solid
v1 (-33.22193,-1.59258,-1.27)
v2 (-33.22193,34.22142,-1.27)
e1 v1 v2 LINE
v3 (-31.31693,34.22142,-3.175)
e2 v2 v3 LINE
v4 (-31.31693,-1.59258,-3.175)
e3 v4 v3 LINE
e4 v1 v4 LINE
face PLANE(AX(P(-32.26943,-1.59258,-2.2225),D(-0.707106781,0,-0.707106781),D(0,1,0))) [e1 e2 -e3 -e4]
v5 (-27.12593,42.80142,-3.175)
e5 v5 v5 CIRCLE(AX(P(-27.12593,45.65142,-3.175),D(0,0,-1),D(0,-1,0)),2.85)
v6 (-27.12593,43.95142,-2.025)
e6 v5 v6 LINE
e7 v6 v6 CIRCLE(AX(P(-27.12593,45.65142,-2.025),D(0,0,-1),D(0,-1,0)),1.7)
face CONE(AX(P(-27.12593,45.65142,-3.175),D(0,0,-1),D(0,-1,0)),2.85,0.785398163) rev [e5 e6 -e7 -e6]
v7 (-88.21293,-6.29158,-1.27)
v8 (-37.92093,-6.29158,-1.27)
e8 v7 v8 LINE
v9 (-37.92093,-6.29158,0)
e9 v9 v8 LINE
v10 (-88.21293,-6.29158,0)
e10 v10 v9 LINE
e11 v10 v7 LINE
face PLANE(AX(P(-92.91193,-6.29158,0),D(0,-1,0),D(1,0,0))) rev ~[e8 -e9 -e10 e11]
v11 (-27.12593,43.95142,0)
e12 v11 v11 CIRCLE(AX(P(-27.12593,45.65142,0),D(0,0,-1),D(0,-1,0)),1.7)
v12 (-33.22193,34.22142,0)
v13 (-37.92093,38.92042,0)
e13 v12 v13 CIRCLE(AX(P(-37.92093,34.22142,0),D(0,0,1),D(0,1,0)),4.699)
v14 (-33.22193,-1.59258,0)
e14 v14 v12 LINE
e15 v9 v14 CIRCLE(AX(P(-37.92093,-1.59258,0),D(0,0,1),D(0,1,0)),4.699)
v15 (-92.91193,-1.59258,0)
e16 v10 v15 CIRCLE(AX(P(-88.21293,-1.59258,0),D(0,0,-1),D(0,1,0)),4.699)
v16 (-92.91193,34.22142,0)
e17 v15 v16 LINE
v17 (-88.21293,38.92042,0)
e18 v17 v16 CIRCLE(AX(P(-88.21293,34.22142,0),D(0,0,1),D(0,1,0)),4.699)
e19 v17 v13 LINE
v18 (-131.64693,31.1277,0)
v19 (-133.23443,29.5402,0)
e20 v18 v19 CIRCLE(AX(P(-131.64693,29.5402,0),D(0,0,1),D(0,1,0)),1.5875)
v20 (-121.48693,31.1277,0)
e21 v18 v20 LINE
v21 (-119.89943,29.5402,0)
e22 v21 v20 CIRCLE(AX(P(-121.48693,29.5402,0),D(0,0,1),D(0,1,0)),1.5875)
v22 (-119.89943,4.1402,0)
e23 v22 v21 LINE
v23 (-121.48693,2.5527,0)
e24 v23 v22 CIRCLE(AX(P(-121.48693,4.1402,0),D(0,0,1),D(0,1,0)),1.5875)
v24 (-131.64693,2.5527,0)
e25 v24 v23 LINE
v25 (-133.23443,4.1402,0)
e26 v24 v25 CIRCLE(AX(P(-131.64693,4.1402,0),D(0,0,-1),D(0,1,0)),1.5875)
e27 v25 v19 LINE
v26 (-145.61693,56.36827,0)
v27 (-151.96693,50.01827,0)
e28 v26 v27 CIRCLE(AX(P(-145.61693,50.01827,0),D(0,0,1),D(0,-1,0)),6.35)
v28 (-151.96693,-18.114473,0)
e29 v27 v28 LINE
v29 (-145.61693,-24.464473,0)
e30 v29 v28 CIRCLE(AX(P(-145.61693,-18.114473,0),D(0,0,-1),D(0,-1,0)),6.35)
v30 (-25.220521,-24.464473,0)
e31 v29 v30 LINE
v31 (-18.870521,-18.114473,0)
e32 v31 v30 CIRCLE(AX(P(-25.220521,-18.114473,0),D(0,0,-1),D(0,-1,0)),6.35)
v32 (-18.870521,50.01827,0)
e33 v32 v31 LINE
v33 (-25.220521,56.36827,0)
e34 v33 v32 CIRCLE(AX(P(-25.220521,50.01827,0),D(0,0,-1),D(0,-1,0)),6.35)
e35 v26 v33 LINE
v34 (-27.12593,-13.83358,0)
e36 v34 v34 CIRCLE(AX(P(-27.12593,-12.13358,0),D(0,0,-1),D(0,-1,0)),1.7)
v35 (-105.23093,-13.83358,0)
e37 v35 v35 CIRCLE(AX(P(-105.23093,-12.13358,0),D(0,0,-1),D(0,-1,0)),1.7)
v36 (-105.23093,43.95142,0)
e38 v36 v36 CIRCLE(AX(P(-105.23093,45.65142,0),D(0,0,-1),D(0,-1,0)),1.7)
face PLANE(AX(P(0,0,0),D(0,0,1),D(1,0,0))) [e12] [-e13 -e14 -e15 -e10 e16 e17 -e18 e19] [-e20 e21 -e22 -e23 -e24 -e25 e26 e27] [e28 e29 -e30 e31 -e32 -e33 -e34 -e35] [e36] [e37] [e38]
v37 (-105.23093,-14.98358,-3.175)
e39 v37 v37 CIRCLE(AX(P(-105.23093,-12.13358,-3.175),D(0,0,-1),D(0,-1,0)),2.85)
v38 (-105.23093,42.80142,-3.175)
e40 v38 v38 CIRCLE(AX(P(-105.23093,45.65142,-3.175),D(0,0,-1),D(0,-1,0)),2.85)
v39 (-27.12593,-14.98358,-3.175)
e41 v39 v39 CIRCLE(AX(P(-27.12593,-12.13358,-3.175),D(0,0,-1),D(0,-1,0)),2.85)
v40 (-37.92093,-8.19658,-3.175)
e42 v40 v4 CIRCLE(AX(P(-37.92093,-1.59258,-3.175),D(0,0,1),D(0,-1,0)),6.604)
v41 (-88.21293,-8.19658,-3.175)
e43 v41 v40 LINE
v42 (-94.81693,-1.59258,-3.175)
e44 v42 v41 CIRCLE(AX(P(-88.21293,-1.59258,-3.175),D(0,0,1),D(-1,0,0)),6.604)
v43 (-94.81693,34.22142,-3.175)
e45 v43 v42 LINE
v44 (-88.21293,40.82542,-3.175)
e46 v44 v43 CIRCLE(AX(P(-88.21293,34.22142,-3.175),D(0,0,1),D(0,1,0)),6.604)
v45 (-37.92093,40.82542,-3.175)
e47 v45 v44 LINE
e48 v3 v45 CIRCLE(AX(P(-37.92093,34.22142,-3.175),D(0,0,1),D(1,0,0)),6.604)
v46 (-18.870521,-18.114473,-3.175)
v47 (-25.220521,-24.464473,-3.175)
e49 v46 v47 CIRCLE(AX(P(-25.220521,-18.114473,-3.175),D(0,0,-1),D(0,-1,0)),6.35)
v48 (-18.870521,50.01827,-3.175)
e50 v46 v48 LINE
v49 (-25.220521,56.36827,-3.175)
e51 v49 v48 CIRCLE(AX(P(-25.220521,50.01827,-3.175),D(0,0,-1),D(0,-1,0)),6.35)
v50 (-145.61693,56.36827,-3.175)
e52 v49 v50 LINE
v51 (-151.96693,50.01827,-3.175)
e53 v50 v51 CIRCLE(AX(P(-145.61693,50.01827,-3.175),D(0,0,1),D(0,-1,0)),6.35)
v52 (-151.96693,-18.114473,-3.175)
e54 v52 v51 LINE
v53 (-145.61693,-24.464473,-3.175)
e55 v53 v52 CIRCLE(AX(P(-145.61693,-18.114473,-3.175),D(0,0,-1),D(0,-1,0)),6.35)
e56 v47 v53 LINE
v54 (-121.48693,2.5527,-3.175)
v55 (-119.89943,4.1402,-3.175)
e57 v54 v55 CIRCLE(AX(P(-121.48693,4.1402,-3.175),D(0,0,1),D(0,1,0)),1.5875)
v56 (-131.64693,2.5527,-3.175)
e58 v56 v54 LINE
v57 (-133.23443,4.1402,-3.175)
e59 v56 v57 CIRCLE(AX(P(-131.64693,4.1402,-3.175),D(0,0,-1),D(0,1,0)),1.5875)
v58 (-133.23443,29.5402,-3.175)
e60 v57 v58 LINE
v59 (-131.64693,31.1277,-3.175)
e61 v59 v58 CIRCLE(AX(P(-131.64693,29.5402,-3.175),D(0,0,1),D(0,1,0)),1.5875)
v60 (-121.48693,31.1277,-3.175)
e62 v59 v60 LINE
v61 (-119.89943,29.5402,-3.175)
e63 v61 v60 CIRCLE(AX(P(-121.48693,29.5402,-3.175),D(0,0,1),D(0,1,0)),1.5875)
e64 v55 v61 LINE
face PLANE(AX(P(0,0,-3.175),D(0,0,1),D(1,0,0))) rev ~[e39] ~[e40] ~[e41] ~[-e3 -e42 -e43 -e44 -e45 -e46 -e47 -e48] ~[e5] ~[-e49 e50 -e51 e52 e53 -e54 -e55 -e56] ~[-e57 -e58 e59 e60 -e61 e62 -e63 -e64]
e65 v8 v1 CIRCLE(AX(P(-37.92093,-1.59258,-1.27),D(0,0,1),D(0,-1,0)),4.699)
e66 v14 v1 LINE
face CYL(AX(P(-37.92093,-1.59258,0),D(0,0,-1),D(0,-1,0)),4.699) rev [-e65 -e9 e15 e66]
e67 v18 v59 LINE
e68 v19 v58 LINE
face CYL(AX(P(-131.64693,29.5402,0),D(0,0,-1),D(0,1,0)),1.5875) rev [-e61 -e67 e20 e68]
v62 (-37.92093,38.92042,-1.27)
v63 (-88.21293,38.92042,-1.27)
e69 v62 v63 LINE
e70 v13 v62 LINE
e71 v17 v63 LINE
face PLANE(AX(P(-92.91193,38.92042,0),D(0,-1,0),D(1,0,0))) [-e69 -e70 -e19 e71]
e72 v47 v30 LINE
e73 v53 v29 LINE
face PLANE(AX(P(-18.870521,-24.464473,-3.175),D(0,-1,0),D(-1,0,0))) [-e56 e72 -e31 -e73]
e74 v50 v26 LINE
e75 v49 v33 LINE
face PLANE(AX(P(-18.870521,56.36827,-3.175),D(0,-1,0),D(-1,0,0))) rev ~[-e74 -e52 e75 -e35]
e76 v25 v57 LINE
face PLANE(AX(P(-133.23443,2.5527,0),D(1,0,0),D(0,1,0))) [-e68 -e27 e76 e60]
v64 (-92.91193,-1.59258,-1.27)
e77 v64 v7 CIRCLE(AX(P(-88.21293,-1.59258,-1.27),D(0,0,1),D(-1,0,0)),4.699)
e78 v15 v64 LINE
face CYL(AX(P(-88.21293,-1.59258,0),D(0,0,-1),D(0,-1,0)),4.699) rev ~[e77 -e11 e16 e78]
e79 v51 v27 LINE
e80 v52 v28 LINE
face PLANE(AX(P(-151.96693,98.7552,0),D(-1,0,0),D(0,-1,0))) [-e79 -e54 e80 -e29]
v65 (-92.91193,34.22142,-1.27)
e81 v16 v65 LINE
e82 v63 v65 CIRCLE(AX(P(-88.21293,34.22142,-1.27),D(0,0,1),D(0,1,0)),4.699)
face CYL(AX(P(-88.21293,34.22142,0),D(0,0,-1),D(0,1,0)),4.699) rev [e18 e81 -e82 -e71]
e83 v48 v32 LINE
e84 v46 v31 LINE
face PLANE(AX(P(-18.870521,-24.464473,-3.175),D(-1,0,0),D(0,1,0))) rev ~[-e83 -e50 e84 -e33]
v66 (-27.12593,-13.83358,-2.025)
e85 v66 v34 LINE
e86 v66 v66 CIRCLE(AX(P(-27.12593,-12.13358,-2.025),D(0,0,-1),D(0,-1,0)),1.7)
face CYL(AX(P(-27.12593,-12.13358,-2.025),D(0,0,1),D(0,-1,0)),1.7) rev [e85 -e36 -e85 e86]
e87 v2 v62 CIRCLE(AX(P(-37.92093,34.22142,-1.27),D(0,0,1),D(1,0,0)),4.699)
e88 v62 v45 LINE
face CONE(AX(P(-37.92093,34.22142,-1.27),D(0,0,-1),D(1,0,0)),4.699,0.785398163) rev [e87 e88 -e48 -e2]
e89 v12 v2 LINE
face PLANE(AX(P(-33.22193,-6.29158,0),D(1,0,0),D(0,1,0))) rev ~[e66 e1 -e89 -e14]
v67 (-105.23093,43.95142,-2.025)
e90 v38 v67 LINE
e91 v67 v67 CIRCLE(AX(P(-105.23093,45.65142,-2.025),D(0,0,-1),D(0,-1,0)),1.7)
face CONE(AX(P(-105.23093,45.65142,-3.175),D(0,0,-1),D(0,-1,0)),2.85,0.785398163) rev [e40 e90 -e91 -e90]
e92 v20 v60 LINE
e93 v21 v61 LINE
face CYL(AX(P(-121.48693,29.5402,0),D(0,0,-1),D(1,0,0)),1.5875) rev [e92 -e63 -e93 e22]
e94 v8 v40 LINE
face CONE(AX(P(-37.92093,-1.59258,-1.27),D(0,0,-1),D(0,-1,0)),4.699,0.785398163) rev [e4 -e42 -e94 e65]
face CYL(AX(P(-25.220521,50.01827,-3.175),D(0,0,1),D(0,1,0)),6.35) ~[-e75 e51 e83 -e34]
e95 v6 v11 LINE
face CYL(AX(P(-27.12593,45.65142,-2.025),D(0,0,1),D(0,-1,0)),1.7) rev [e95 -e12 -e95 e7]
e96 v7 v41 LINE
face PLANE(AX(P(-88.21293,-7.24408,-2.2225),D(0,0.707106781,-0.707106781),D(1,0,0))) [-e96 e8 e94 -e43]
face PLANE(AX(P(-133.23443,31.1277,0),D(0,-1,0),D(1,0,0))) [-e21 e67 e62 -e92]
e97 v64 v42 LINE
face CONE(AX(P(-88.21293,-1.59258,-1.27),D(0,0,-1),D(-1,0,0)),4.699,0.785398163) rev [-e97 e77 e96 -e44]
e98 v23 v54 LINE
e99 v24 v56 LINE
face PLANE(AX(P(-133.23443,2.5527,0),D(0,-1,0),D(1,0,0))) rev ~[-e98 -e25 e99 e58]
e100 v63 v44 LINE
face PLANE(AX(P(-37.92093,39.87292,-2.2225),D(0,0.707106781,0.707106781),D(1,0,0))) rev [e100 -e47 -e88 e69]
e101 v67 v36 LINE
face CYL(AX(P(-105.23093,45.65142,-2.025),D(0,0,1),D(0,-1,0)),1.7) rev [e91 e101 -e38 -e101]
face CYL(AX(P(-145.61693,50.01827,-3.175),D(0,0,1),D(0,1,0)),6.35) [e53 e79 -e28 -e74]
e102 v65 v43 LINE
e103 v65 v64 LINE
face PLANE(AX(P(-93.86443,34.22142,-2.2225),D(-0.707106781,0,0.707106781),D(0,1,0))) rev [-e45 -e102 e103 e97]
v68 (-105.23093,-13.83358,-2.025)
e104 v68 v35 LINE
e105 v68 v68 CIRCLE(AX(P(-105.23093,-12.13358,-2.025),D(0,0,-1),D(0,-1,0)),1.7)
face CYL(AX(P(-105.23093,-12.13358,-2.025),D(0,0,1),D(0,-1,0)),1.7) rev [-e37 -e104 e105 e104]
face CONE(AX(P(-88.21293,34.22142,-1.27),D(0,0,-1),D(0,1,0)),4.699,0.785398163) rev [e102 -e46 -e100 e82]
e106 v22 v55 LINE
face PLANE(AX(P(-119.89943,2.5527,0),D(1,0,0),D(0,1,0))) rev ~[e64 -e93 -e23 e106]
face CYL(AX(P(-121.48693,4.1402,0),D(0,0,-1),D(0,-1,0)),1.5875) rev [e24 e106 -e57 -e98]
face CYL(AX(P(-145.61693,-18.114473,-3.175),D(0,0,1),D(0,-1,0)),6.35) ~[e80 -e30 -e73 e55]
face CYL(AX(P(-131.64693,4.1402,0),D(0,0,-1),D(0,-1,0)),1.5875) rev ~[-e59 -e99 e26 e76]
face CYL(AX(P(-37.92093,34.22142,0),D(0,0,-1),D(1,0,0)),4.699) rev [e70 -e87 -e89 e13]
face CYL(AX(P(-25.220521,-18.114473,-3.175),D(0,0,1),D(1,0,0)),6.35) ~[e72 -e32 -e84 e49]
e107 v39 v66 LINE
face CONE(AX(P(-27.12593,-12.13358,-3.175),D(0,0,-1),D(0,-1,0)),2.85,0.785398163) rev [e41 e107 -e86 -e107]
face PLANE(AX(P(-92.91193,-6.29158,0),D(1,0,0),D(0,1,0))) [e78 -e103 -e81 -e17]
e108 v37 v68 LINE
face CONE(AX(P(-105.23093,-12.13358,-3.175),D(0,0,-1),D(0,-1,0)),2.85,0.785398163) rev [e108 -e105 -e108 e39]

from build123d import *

# Parameters (mm, degrees)
BOSS_EXTRUDE1_DEPTH             = 3.175
F_6_CLEARANCE_HOLE1_AT_2_COUNT  = 2
F_6_CLEARANCE_HOLE1_AT_2_PITCH  = 202.184
F_6_CLEARANCE_HOLE1_AT_3_COUNT  = 2
F_6_CLEARANCE_HOLE1_AT_3_PITCH  = 245.533205315
F_6_CLEARANCE_HOLE1_AT_4_COUNT  = 2
F_6_CLEARANCE_HOLE1_AT_4_PITCH  = 294.732330958
F_6_CLEARANCE_HOLE1_AT_5_COUNT  = 2
F_6_CLEARANCE_HOLE1_AT_5_PITCH  = 209.296
F_6_CLEARANCE_HOLE1_AT_6_COUNT  = 2
F_6_CLEARANCE_HOLE1_AT_6_PITCH  = 172.811757411
F_6_CLEARANCE_HOLE1_AT_7_COUNT  = 2
F_6_CLEARANCE_HOLE1_AT_7_PITCH  = 57.300187604
F_6_CLEARANCE_HOLE1_AT_8_COUNT  = 2
F_6_CLEARANCE_HOLE1_AT_8_PITCH  = 291.003755082
F_6_CLEARANCE_HOLE1_AT_9_COUNT  = 2
F_6_CLEARANCE_HOLE1_AT_9_PITCH  = 232.431512666
F_6_CLEARANCE_HOLE1_AT_10_COUNT = 2
F_6_CLEARANCE_HOLE1_AT_10_PITCH = 101.092
SKETCH23_R                      = 24.765
CUT_EXTRUDE10_DEPTH             = 191.76187976
SKETCH24_W                      = 59.69
SKETCH24_H                      = 45.212
CUT_EXTRUDE11_DEPTH             = 191.76187976
FILLET2_R                       = 4.699
CHAMFER1_SIZE                   = 1.905
M3_CLEARANCE_HOLE3_AT_2_COUNT   = 2
M3_CLEARANCE_HOLE3_AT_2_PITCH   = 49.391408666
M3_CLEARANCE_HOLE3_AT_3_COUNT   = 2
M3_CLEARANCE_HOLE3_AT_3_PITCH   = 69.85
M3_CLEARANCE_HOLE3_AT_4_COUNT   = 2
M3_CLEARANCE_HOLE3_AT_4_PITCH   = 49.391408666
M3_CLEARANCE_HOLE1_D            = 3.6
M3_CLEARANCE_HOLE1_CSINK_D      = 5.7
M3_CLEARANCE_HOLE1_CSINK_ANGLE  = 90
M3_CLEARANCE_HOLE2_AT_2_COUNT   = 2
M3_CLEARANCE_HOLE2_AT_2_PITCH   = 56.70042
M3_CLEARANCE_HOLE2_AT_3_COUNT   = 2
M3_CLEARANCE_HOLE2_AT_3_PITCH   = 102.00589147
M3_CLEARANCE_HOLE2_AT_4_COUNT   = 2
M3_CLEARANCE_HOLE2_AT_4_PITCH   = 109.267844742
M3_CLEARANCE_HOLE2_AT_5_COUNT   = 2
M3_CLEARANCE_HOLE2_AT_5_PITCH   = 65.600653918
M3_CLEARANCE_HOLE2_AT_6_COUNT   = 2
M3_CLEARANCE_HOLE2_AT_6_PITCH   = 76.404880698
M3_CLEARANCE_HOLE2_AT_7_COUNT   = 2
M3_CLEARANCE_HOLE2_AT_7_PITCH   = 27.404059918
M3_CLEARANCE_HOLE2_AT_8_COUNT   = 2
M3_CLEARANCE_HOLE2_AT_8_PITCH   = 55.968061912
SKETCH35_W                      = 13.335
SKETCH35_H                      = 28.575
CUT_EXTRUDE12_DEPTH             = 191.76187976
FILLET1_R                       = 1.5875
F_8_0MM_DOWEL_HOLE1_D           = 8
M3_CLEARANCE_HOLE4_AT_2_COUNT   = 2
M3_CLEARANCE_HOLE4_AT_2_PITCH   = 78.105
M3_CLEARANCE_HOLE4_AT_3_COUNT   = 2
M3_CLEARANCE_HOLE4_AT_3_PITCH   = 97.157075141
M3_CLEARANCE_HOLE4_AT_4_COUNT   = 2
M3_CLEARANCE_HOLE4_AT_4_PITCH   = 57.785
SKETCH42_OUTSIDE_W              = 382.23
SKETCH42_OUTSIDE_H              = 308.826
SKETCH42_OUTSIDE_W_2            = 133.096408578
SKETCH42_OUTSIDE_H_2            = 80.832743403
CUT_EXTRUDE13_DEPTH             = 191.76187976
FILLET3_R                       = 6.35


with BuildPart() as part:
    # Sketch1 → Boss-Extrude1 (new body)
    with BuildSketch(Plane.XY):
        with BuildLine():
            Line((-151.96693, 98.7552), (-151.96693, -98.7552))
            ThreePointArc((-151.96693, -98.7552), (-147.131262957, -110.429532957), (-135.45693, -115.2652))
            Line((-135.45693, -115.2652), (135.45693, -115.2652))
            ThreePointArc((135.45693, -115.2652), (147.131262957, -110.429532957), (151.96693, -98.7552))
            Line((151.96693, -98.7552), (151.96693, 98.7552))
            ThreePointArc((151.96693, 98.7552), (147.131262957, 110.429532957), (135.45693, 115.2652))
            Line((135.45693, 115.2652), (-135.45693, 115.2652))
            ThreePointArc((-135.45693, 115.2652), (-147.131262957, 110.429532957), (-151.96693, 98.7552))
        make_face()
    extrude(amount=-BOSS_EXTRUDE1_DEPTH)

    # Sketch3 → #6 Clearance Hole1 (revolve, cut)
    with BuildSketch(Plane(origin=(101.092, 104.648, 0), x_dir=(0, -1, 0), z_dir=(1, 0, 0))):
        Polygon((0, 0), (0, 3.175), (3.3655, 3.175), (2.15265, 2.157298012), (2.15265, 0), align=None)
    f_6_clearance_hole1 = revolve(axis=Axis((101.092, 104.648, 6.35), (0, 0, -1)), mode=Mode.SUBTRACT)

    # #6 Clearance Hole1 at 2: #6 Clearance Hole1 ×2
    with Locations(*[(-i * F_6_CLEARANCE_HOLE1_AT_2_PITCH, 0, 0) for i in range(1, F_6_CLEARANCE_HOLE1_AT_2_COUNT)]):
        add(f_6_clearance_hole1, mode=Mode.SUBTRACT)

    # #6 Clearance Hole1 at 3: #6 Clearance Hole1 ×2
    with Locations(*[Vector(-0.9858574105677721, -0.1675862942743448, 0) * (i * F_6_CLEARANCE_HOLE1_AT_3_PITCH) for i in range(1, F_6_CLEARANCE_HOLE1_AT_3_COUNT)]):
        add(f_6_clearance_hole1, mode=Mode.SUBTRACT)

    # #6 Clearance Hole1 at 4: #6 Clearance Hole1 ×2
    with Locations(*[Vector(-0.8212900471859665, -0.5705108749123656, 0) * (i * F_6_CLEARANCE_HOLE1_AT_4_PITCH) for i in range(1, F_6_CLEARANCE_HOLE1_AT_4_COUNT)]):
        add(f_6_clearance_hole1, mode=Mode.SUBTRACT)

    # #6 Clearance Hole1 at 5: #6 Clearance Hole1 ×2
    with Locations(*[(0, -i * F_6_CLEARANCE_HOLE1_AT_5_PITCH, 0) for i in range(1, F_6_CLEARANCE_HOLE1_AT_5_COUNT)]):
        add(f_6_clearance_hole1, mode=Mode.SUBTRACT)

    # #6 Clearance Hole1 at 6: #6 Clearance Hole1 ×2
    with Locations(*[Vector(0.23075241289949347, -0.9730124993755537, 0) * (i * F_6_CLEARANCE_HOLE1_AT_6_PITCH) for i in range(1, F_6_CLEARANCE_HOLE1_AT_6_COUNT)]):
        add(f_6_clearance_hole1, mode=Mode.SUBTRACT)

    # #6 Clearance Hole1 at 7: #6 Clearance Hole1 ×2
    with Locations(*[Vector(0.6959266918172804, -0.7181128320927402, 0) * (i * F_6_CLEARANCE_HOLE1_AT_7_PITCH) for i in range(1, F_6_CLEARANCE_HOLE1_AT_7_COUNT)]):
        add(f_6_clearance_hole1, mode=Mode.SUBTRACT)

    # #6 Clearance Hole1 at 8: #6 Clearance Hole1 ×2
    with Locations(*[Vector(-0.6947814125038304, -0.719220959677332, 0) * (i * F_6_CLEARANCE_HOLE1_AT_8_PITCH) for i in range(1, F_6_CLEARANCE_HOLE1_AT_8_COUNT)]):
        add(f_6_clearance_hole1, mode=Mode.SUBTRACT)

    # #6 Clearance Hole1 at 9: #6 Clearance Hole1 ×2
    with Locations(*[Vector(-0.4349324187613887, -0.9004630981391565, 0) * (i * F_6_CLEARANCE_HOLE1_AT_9_PITCH) for i in range(1, F_6_CLEARANCE_HOLE1_AT_9_COUNT)]):
        add(f_6_clearance_hole1, mode=Mode.SUBTRACT)

    # #6 Clearance Hole1 at 10: #6 Clearance Hole1 ×2
    with Locations(*[(-i * F_6_CLEARANCE_HOLE1_AT_10_PITCH, 0, 0) for i in range(1, F_6_CLEARANCE_HOLE1_AT_10_COUNT)]):
        add(f_6_clearance_hole1, mode=Mode.SUBTRACT)

    # Sketch23 → Cut-Extrude10 (cut, through all)
    with BuildSketch(Plane.XY):
        with Locations((104.26573, 42.164)):
            Circle(SKETCH23_R)
    extrude(amount=-CUT_EXTRUDE10_DEPTH, mode=Mode.SUBTRACT)

    # Sketch24 → Cut-Extrude11 (cut, through all)
    with BuildSketch(Plane.XY):
        with Locations((-63.06693, 16.31442)):
            Rectangle(SKETCH24_W, SKETCH24_H)
    extrude(amount=-CUT_EXTRUDE11_DEPTH, mode=Mode.SUBTRACT)

    # Fillet2
    fillet2_edges = [part.edges().sort_by_distance(p)[0] for p in [
        (-92.91193, -6.29158, -1.5875),
        (-92.91193, 38.92042, -1.5875),
        (-33.22193, 38.92042, -1.5875),
        (-33.22193, -6.29158, -1.5875),
    ]]
    fillet(fillet2_edges, radius=FILLET2_R)

    # Chamfer1
    chamfer1_edges = [part.edges().sort_by_distance(p)[0] for p in [
        (-33.22193, 16.31442, -3.175),
        (-63.06693, -6.29158, -3.175),
        (-92.91193, 16.31442, -3.175),
        (-63.06693, 38.92042, -3.175),
        (-34.598235235, -4.915274765, -3.175),
        (-91.535624765, -4.915274765, -3.175),
        (-91.535624765, 37.544114765, -3.175),
        (-34.598235235, 37.544114765, -3.175),
    ]]
    chamfer(chamfer1_edges, length=CHAMFER1_SIZE)

    # Sketch30 → M3 Clearance Hole3 (revolve, cut)
    with BuildSketch(Plane(origin=(79.570025667, 66.859704333, 0), x_dir=(0, -1, 0), z_dir=(1, 0, 0))):
        Polygon((0, 0), (0, 3.175), (2.85, 3.175), (1.8, 2.125), (1.8, 0), align=None)
    m3_clearance_hole3 = revolve(axis=Axis((79.570025667, 66.859704333, 6.35), (0, 0, -1)), mode=Mode.SUBTRACT)

    # M3 Clearance Hole3 at 2: M3 Clearance Hole3 ×2
    with Locations(*[(i * M3_CLEARANCE_HOLE3_AT_2_PITCH, 0, 0) for i in range(1, M3_CLEARANCE_HOLE3_AT_2_COUNT)]):
        add(m3_clearance_hole3, mode=Mode.SUBTRACT)

    # M3 Clearance Hole3 at 3: M3 Clearance Hole3 ×2
    with Locations(*[Vector(0.7071067811865477, -0.7071067811865475, 0) * (i * M3_CLEARANCE_HOLE3_AT_3_PITCH) for i in range(1, M3_CLEARANCE_HOLE3_AT_3_COUNT)]):
        add(m3_clearance_hole3, mode=Mode.SUBTRACT)

    # M3 Clearance Hole3 at 4: M3 Clearance Hole3 ×2
    with Locations(*[(0, -i * M3_CLEARANCE_HOLE3_AT_4_PITCH, 0) for i in range(1, M3_CLEARANCE_HOLE3_AT_4_COUNT)]):
        add(m3_clearance_hole3, mode=Mode.SUBTRACT)

    # M3 Clearance Hole1 (through all)
    with Locations(Plane(origin=(0, 0, -3.175), x_dir=(-1, 0, 0), z_dir=(0, 0, -1))):
        with Locations((17.67693, -38.5952), (117.67693, -38.5952), (117.67693, -88.5952), (17.67693, -88.5952)):
            CounterSinkHole(M3_CLEARANCE_HOLE1_D / 2, M3_CLEARANCE_HOLE1_CSINK_D / 2, counter_sink_angle=M3_CLEARANCE_HOLE1_CSINK_ANGLE)

    # Sketch34 → M3 Clearance Hole2 (revolve, cut)
    with BuildSketch(Plane(origin=(25.25193, -75.5297, 0), x_dir=(0, -1, 0), z_dir=(1, 0, 0))):
        Polygon((0, 0), (0, 3.175), (2.85, 3.175), (1.8, 2.125), (1.8, 0), align=None)
    m3_clearance_hole2 = revolve(axis=Axis((25.25193, -75.5297, 6.35), (0, 0, -1)), mode=Mode.SUBTRACT)

    # M3 Clearance Hole2 at 2: M3 Clearance Hole2 ×2
    with Locations(*[(i * M3_CLEARANCE_HOLE2_AT_2_PITCH, 0, 0) for i in range(1, M3_CLEARANCE_HOLE2_AT_2_COUNT)]):
        add(m3_clearance_hole2, mode=Mode.SUBTRACT)

    # M3 Clearance Hole2 at 3: M3 Clearance Hole2 ×2
    with Locations(*[Vector(0.9983315525499471, -0.05774176290357108, 0) * (i * M3_CLEARANCE_HOLE2_AT_3_PITCH) for i in range(1, M3_CLEARANCE_HOLE2_AT_3_COUNT)]):
        add(m3_clearance_hole2, mode=Mode.SUBTRACT)

    # M3 Clearance Hole2 at 4: M3 Clearance Hole2 ×2
    with Locations(*[Vector(0.9319823250907686, 0.36250371821321364, 0) * (i * M3_CLEARANCE_HOLE2_AT_4_PITCH) for i in range(1, M3_CLEARANCE_HOLE2_AT_4_COUNT)]):
        add(m3_clearance_hole2, mode=Mode.SUBTRACT)

    # M3 Clearance Hole2 at 5: M3 Clearance Hole2 ×2
    with Locations(*[Vector(0.9959611085814934, -0.089785690358334, 0) * (i * M3_CLEARANCE_HOLE2_AT_5_PITCH) for i in range(1, M3_CLEARANCE_HOLE2_AT_5_COUNT)]):
        add(m3_clearance_hole2, mode=Mode.SUBTRACT)

    # M3 Clearance Hole2 at 6: M3 Clearance Hole2 ×2
    with Locations(*[Vector(0.8551246910281444, 0.5184223787550272, 0) * (i * M3_CLEARANCE_HOLE2_AT_6_PITCH) for i in range(1, M3_CLEARANCE_HOLE2_AT_6_COUNT)]):
        add(m3_clearance_hole2, mode=Mode.SUBTRACT)

    # M3 Clearance Hole2 at 7: M3 Clearance Hole2 ×2
    with Locations(*[Vector(0.2682084341495708, 0.9633609063331537, 0) * (i * M3_CLEARANCE_HOLE2_AT_7_PITCH) for i in range(1, M3_CLEARANCE_HOLE2_AT_7_COUNT)]):
        add(m3_clearance_hole2, mode=Mode.SUBTRACT)

    # M3 Clearance Hole2 at 8: M3 Clearance Hole2 ×2
    with Locations(*[Vector(0.8817603882311722, 0.47169759141468215, 0) * (i * M3_CLEARANCE_HOLE2_AT_8_PITCH) for i in range(1, M3_CLEARANCE_HOLE2_AT_8_COUNT)]):
        add(m3_clearance_hole2, mode=Mode.SUBTRACT)

    # Sketch35 → Cut-Extrude12 (cut, through all)
    with BuildSketch(Plane.XY):
        with Locations((-126.56693, 16.8402)):
            Rectangle(SKETCH35_W, SKETCH35_H)
    extrude(amount=-CUT_EXTRUDE12_DEPTH, mode=Mode.SUBTRACT)

    # Fillet1
    fillet1_edges = [part.edges().sort_by_distance(p)[0] for p in [
        (-133.23443, 2.5527, -1.5875),
        (-133.23443, 31.1277, -1.5875),
        (-119.89943, 31.1277, -1.5875),
        (-119.89943, 2.5527, -1.5875),
    ]]
    fillet(fillet1_edges, radius=FILLET1_R)

    # Ø8.0mm Dowel Hole1 (through all)
    with Locations(Plane(origin=(0, 0, -3.175), x_dir=(-1, 0, 0), z_dir=(0, 0, -1))):
        with Locations((12.26693, 3.61442), (12.26693, 29.01442)):
            Hole(F_8_0MM_DOWEL_HOLE1_D / 2)

    # Sketch39 → M3 Clearance Hole4 (revolve, cut)
    with BuildSketch(Plane(origin=(-105.23093, 45.65142, 0), x_dir=(0, -1, 0), z_dir=(1, 0, 0))):
        Polygon((0, 0), (0, 3.175), (2.85, 3.175), (1.7, 2.025), (1.7, 0), align=None)
    m3_clearance_hole4 = revolve(axis=Axis((-105.23093, 45.65142, 6.35), (0, 0, -1)), mode=Mode.SUBTRACT)

    # M3 Clearance Hole4 at 2: M3 Clearance Hole4 ×2
    with Locations(*[(i * M3_CLEARANCE_HOLE4_AT_2_PITCH, 0, 0) for i in range(1, M3_CLEARANCE_HOLE4_AT_2_COUNT)]):
        add(m3_clearance_hole4, mode=Mode.SUBTRACT)

    # M3 Clearance Hole4 at 3: M3 Clearance Hole4 ×2
    with Locations(*[Vector(0.8039043979705941, -0.5947585383359678, 0) * (i * M3_CLEARANCE_HOLE4_AT_3_PITCH) for i in range(1, M3_CLEARANCE_HOLE4_AT_3_COUNT)]):
        add(m3_clearance_hole4, mode=Mode.SUBTRACT)

    # M3 Clearance Hole4 at 4: M3 Clearance Hole4 ×2
    with Locations(*[(0, -i * M3_CLEARANCE_HOLE4_AT_4_PITCH, 0) for i in range(1, M3_CLEARANCE_HOLE4_AT_4_COUNT)]):
        add(m3_clearance_hole4, mode=Mode.SUBTRACT)

    # Sketch42 outside → Cut-Extrude13 (cut, through all)
    with BuildSketch(Plane(origin=(0, 0, -3.175), x_dir=(-1, 0, 0), z_dir=(0, 0, -1))):
        Rectangle(SKETCH42_OUTSIDE_W, SKETCH42_OUTSIDE_H)
        with Locations((85.418725711, 15.951898655)):
            Rectangle(SKETCH42_OUTSIDE_W_2, SKETCH42_OUTSIDE_H_2, mode=Mode.SUBTRACT)
    extrude(amount=-CUT_EXTRUDE13_DEPTH, mode=Mode.SUBTRACT)

    # Fillet3
    fillet3_edges = [part.edges().sort_by_distance(p)[0] for p in [
        (-18.870521422, 56.368270356, -1.5875),
        (-151.96693, 56.368270356, -1.5875),
        (-151.96693, -24.464473047, -1.5875),
        (-18.870521422, -24.464473047, -1.5875),
    ]]
    fillet(fillet3_edges, radius=FILLET3_R)


solid = part.part
